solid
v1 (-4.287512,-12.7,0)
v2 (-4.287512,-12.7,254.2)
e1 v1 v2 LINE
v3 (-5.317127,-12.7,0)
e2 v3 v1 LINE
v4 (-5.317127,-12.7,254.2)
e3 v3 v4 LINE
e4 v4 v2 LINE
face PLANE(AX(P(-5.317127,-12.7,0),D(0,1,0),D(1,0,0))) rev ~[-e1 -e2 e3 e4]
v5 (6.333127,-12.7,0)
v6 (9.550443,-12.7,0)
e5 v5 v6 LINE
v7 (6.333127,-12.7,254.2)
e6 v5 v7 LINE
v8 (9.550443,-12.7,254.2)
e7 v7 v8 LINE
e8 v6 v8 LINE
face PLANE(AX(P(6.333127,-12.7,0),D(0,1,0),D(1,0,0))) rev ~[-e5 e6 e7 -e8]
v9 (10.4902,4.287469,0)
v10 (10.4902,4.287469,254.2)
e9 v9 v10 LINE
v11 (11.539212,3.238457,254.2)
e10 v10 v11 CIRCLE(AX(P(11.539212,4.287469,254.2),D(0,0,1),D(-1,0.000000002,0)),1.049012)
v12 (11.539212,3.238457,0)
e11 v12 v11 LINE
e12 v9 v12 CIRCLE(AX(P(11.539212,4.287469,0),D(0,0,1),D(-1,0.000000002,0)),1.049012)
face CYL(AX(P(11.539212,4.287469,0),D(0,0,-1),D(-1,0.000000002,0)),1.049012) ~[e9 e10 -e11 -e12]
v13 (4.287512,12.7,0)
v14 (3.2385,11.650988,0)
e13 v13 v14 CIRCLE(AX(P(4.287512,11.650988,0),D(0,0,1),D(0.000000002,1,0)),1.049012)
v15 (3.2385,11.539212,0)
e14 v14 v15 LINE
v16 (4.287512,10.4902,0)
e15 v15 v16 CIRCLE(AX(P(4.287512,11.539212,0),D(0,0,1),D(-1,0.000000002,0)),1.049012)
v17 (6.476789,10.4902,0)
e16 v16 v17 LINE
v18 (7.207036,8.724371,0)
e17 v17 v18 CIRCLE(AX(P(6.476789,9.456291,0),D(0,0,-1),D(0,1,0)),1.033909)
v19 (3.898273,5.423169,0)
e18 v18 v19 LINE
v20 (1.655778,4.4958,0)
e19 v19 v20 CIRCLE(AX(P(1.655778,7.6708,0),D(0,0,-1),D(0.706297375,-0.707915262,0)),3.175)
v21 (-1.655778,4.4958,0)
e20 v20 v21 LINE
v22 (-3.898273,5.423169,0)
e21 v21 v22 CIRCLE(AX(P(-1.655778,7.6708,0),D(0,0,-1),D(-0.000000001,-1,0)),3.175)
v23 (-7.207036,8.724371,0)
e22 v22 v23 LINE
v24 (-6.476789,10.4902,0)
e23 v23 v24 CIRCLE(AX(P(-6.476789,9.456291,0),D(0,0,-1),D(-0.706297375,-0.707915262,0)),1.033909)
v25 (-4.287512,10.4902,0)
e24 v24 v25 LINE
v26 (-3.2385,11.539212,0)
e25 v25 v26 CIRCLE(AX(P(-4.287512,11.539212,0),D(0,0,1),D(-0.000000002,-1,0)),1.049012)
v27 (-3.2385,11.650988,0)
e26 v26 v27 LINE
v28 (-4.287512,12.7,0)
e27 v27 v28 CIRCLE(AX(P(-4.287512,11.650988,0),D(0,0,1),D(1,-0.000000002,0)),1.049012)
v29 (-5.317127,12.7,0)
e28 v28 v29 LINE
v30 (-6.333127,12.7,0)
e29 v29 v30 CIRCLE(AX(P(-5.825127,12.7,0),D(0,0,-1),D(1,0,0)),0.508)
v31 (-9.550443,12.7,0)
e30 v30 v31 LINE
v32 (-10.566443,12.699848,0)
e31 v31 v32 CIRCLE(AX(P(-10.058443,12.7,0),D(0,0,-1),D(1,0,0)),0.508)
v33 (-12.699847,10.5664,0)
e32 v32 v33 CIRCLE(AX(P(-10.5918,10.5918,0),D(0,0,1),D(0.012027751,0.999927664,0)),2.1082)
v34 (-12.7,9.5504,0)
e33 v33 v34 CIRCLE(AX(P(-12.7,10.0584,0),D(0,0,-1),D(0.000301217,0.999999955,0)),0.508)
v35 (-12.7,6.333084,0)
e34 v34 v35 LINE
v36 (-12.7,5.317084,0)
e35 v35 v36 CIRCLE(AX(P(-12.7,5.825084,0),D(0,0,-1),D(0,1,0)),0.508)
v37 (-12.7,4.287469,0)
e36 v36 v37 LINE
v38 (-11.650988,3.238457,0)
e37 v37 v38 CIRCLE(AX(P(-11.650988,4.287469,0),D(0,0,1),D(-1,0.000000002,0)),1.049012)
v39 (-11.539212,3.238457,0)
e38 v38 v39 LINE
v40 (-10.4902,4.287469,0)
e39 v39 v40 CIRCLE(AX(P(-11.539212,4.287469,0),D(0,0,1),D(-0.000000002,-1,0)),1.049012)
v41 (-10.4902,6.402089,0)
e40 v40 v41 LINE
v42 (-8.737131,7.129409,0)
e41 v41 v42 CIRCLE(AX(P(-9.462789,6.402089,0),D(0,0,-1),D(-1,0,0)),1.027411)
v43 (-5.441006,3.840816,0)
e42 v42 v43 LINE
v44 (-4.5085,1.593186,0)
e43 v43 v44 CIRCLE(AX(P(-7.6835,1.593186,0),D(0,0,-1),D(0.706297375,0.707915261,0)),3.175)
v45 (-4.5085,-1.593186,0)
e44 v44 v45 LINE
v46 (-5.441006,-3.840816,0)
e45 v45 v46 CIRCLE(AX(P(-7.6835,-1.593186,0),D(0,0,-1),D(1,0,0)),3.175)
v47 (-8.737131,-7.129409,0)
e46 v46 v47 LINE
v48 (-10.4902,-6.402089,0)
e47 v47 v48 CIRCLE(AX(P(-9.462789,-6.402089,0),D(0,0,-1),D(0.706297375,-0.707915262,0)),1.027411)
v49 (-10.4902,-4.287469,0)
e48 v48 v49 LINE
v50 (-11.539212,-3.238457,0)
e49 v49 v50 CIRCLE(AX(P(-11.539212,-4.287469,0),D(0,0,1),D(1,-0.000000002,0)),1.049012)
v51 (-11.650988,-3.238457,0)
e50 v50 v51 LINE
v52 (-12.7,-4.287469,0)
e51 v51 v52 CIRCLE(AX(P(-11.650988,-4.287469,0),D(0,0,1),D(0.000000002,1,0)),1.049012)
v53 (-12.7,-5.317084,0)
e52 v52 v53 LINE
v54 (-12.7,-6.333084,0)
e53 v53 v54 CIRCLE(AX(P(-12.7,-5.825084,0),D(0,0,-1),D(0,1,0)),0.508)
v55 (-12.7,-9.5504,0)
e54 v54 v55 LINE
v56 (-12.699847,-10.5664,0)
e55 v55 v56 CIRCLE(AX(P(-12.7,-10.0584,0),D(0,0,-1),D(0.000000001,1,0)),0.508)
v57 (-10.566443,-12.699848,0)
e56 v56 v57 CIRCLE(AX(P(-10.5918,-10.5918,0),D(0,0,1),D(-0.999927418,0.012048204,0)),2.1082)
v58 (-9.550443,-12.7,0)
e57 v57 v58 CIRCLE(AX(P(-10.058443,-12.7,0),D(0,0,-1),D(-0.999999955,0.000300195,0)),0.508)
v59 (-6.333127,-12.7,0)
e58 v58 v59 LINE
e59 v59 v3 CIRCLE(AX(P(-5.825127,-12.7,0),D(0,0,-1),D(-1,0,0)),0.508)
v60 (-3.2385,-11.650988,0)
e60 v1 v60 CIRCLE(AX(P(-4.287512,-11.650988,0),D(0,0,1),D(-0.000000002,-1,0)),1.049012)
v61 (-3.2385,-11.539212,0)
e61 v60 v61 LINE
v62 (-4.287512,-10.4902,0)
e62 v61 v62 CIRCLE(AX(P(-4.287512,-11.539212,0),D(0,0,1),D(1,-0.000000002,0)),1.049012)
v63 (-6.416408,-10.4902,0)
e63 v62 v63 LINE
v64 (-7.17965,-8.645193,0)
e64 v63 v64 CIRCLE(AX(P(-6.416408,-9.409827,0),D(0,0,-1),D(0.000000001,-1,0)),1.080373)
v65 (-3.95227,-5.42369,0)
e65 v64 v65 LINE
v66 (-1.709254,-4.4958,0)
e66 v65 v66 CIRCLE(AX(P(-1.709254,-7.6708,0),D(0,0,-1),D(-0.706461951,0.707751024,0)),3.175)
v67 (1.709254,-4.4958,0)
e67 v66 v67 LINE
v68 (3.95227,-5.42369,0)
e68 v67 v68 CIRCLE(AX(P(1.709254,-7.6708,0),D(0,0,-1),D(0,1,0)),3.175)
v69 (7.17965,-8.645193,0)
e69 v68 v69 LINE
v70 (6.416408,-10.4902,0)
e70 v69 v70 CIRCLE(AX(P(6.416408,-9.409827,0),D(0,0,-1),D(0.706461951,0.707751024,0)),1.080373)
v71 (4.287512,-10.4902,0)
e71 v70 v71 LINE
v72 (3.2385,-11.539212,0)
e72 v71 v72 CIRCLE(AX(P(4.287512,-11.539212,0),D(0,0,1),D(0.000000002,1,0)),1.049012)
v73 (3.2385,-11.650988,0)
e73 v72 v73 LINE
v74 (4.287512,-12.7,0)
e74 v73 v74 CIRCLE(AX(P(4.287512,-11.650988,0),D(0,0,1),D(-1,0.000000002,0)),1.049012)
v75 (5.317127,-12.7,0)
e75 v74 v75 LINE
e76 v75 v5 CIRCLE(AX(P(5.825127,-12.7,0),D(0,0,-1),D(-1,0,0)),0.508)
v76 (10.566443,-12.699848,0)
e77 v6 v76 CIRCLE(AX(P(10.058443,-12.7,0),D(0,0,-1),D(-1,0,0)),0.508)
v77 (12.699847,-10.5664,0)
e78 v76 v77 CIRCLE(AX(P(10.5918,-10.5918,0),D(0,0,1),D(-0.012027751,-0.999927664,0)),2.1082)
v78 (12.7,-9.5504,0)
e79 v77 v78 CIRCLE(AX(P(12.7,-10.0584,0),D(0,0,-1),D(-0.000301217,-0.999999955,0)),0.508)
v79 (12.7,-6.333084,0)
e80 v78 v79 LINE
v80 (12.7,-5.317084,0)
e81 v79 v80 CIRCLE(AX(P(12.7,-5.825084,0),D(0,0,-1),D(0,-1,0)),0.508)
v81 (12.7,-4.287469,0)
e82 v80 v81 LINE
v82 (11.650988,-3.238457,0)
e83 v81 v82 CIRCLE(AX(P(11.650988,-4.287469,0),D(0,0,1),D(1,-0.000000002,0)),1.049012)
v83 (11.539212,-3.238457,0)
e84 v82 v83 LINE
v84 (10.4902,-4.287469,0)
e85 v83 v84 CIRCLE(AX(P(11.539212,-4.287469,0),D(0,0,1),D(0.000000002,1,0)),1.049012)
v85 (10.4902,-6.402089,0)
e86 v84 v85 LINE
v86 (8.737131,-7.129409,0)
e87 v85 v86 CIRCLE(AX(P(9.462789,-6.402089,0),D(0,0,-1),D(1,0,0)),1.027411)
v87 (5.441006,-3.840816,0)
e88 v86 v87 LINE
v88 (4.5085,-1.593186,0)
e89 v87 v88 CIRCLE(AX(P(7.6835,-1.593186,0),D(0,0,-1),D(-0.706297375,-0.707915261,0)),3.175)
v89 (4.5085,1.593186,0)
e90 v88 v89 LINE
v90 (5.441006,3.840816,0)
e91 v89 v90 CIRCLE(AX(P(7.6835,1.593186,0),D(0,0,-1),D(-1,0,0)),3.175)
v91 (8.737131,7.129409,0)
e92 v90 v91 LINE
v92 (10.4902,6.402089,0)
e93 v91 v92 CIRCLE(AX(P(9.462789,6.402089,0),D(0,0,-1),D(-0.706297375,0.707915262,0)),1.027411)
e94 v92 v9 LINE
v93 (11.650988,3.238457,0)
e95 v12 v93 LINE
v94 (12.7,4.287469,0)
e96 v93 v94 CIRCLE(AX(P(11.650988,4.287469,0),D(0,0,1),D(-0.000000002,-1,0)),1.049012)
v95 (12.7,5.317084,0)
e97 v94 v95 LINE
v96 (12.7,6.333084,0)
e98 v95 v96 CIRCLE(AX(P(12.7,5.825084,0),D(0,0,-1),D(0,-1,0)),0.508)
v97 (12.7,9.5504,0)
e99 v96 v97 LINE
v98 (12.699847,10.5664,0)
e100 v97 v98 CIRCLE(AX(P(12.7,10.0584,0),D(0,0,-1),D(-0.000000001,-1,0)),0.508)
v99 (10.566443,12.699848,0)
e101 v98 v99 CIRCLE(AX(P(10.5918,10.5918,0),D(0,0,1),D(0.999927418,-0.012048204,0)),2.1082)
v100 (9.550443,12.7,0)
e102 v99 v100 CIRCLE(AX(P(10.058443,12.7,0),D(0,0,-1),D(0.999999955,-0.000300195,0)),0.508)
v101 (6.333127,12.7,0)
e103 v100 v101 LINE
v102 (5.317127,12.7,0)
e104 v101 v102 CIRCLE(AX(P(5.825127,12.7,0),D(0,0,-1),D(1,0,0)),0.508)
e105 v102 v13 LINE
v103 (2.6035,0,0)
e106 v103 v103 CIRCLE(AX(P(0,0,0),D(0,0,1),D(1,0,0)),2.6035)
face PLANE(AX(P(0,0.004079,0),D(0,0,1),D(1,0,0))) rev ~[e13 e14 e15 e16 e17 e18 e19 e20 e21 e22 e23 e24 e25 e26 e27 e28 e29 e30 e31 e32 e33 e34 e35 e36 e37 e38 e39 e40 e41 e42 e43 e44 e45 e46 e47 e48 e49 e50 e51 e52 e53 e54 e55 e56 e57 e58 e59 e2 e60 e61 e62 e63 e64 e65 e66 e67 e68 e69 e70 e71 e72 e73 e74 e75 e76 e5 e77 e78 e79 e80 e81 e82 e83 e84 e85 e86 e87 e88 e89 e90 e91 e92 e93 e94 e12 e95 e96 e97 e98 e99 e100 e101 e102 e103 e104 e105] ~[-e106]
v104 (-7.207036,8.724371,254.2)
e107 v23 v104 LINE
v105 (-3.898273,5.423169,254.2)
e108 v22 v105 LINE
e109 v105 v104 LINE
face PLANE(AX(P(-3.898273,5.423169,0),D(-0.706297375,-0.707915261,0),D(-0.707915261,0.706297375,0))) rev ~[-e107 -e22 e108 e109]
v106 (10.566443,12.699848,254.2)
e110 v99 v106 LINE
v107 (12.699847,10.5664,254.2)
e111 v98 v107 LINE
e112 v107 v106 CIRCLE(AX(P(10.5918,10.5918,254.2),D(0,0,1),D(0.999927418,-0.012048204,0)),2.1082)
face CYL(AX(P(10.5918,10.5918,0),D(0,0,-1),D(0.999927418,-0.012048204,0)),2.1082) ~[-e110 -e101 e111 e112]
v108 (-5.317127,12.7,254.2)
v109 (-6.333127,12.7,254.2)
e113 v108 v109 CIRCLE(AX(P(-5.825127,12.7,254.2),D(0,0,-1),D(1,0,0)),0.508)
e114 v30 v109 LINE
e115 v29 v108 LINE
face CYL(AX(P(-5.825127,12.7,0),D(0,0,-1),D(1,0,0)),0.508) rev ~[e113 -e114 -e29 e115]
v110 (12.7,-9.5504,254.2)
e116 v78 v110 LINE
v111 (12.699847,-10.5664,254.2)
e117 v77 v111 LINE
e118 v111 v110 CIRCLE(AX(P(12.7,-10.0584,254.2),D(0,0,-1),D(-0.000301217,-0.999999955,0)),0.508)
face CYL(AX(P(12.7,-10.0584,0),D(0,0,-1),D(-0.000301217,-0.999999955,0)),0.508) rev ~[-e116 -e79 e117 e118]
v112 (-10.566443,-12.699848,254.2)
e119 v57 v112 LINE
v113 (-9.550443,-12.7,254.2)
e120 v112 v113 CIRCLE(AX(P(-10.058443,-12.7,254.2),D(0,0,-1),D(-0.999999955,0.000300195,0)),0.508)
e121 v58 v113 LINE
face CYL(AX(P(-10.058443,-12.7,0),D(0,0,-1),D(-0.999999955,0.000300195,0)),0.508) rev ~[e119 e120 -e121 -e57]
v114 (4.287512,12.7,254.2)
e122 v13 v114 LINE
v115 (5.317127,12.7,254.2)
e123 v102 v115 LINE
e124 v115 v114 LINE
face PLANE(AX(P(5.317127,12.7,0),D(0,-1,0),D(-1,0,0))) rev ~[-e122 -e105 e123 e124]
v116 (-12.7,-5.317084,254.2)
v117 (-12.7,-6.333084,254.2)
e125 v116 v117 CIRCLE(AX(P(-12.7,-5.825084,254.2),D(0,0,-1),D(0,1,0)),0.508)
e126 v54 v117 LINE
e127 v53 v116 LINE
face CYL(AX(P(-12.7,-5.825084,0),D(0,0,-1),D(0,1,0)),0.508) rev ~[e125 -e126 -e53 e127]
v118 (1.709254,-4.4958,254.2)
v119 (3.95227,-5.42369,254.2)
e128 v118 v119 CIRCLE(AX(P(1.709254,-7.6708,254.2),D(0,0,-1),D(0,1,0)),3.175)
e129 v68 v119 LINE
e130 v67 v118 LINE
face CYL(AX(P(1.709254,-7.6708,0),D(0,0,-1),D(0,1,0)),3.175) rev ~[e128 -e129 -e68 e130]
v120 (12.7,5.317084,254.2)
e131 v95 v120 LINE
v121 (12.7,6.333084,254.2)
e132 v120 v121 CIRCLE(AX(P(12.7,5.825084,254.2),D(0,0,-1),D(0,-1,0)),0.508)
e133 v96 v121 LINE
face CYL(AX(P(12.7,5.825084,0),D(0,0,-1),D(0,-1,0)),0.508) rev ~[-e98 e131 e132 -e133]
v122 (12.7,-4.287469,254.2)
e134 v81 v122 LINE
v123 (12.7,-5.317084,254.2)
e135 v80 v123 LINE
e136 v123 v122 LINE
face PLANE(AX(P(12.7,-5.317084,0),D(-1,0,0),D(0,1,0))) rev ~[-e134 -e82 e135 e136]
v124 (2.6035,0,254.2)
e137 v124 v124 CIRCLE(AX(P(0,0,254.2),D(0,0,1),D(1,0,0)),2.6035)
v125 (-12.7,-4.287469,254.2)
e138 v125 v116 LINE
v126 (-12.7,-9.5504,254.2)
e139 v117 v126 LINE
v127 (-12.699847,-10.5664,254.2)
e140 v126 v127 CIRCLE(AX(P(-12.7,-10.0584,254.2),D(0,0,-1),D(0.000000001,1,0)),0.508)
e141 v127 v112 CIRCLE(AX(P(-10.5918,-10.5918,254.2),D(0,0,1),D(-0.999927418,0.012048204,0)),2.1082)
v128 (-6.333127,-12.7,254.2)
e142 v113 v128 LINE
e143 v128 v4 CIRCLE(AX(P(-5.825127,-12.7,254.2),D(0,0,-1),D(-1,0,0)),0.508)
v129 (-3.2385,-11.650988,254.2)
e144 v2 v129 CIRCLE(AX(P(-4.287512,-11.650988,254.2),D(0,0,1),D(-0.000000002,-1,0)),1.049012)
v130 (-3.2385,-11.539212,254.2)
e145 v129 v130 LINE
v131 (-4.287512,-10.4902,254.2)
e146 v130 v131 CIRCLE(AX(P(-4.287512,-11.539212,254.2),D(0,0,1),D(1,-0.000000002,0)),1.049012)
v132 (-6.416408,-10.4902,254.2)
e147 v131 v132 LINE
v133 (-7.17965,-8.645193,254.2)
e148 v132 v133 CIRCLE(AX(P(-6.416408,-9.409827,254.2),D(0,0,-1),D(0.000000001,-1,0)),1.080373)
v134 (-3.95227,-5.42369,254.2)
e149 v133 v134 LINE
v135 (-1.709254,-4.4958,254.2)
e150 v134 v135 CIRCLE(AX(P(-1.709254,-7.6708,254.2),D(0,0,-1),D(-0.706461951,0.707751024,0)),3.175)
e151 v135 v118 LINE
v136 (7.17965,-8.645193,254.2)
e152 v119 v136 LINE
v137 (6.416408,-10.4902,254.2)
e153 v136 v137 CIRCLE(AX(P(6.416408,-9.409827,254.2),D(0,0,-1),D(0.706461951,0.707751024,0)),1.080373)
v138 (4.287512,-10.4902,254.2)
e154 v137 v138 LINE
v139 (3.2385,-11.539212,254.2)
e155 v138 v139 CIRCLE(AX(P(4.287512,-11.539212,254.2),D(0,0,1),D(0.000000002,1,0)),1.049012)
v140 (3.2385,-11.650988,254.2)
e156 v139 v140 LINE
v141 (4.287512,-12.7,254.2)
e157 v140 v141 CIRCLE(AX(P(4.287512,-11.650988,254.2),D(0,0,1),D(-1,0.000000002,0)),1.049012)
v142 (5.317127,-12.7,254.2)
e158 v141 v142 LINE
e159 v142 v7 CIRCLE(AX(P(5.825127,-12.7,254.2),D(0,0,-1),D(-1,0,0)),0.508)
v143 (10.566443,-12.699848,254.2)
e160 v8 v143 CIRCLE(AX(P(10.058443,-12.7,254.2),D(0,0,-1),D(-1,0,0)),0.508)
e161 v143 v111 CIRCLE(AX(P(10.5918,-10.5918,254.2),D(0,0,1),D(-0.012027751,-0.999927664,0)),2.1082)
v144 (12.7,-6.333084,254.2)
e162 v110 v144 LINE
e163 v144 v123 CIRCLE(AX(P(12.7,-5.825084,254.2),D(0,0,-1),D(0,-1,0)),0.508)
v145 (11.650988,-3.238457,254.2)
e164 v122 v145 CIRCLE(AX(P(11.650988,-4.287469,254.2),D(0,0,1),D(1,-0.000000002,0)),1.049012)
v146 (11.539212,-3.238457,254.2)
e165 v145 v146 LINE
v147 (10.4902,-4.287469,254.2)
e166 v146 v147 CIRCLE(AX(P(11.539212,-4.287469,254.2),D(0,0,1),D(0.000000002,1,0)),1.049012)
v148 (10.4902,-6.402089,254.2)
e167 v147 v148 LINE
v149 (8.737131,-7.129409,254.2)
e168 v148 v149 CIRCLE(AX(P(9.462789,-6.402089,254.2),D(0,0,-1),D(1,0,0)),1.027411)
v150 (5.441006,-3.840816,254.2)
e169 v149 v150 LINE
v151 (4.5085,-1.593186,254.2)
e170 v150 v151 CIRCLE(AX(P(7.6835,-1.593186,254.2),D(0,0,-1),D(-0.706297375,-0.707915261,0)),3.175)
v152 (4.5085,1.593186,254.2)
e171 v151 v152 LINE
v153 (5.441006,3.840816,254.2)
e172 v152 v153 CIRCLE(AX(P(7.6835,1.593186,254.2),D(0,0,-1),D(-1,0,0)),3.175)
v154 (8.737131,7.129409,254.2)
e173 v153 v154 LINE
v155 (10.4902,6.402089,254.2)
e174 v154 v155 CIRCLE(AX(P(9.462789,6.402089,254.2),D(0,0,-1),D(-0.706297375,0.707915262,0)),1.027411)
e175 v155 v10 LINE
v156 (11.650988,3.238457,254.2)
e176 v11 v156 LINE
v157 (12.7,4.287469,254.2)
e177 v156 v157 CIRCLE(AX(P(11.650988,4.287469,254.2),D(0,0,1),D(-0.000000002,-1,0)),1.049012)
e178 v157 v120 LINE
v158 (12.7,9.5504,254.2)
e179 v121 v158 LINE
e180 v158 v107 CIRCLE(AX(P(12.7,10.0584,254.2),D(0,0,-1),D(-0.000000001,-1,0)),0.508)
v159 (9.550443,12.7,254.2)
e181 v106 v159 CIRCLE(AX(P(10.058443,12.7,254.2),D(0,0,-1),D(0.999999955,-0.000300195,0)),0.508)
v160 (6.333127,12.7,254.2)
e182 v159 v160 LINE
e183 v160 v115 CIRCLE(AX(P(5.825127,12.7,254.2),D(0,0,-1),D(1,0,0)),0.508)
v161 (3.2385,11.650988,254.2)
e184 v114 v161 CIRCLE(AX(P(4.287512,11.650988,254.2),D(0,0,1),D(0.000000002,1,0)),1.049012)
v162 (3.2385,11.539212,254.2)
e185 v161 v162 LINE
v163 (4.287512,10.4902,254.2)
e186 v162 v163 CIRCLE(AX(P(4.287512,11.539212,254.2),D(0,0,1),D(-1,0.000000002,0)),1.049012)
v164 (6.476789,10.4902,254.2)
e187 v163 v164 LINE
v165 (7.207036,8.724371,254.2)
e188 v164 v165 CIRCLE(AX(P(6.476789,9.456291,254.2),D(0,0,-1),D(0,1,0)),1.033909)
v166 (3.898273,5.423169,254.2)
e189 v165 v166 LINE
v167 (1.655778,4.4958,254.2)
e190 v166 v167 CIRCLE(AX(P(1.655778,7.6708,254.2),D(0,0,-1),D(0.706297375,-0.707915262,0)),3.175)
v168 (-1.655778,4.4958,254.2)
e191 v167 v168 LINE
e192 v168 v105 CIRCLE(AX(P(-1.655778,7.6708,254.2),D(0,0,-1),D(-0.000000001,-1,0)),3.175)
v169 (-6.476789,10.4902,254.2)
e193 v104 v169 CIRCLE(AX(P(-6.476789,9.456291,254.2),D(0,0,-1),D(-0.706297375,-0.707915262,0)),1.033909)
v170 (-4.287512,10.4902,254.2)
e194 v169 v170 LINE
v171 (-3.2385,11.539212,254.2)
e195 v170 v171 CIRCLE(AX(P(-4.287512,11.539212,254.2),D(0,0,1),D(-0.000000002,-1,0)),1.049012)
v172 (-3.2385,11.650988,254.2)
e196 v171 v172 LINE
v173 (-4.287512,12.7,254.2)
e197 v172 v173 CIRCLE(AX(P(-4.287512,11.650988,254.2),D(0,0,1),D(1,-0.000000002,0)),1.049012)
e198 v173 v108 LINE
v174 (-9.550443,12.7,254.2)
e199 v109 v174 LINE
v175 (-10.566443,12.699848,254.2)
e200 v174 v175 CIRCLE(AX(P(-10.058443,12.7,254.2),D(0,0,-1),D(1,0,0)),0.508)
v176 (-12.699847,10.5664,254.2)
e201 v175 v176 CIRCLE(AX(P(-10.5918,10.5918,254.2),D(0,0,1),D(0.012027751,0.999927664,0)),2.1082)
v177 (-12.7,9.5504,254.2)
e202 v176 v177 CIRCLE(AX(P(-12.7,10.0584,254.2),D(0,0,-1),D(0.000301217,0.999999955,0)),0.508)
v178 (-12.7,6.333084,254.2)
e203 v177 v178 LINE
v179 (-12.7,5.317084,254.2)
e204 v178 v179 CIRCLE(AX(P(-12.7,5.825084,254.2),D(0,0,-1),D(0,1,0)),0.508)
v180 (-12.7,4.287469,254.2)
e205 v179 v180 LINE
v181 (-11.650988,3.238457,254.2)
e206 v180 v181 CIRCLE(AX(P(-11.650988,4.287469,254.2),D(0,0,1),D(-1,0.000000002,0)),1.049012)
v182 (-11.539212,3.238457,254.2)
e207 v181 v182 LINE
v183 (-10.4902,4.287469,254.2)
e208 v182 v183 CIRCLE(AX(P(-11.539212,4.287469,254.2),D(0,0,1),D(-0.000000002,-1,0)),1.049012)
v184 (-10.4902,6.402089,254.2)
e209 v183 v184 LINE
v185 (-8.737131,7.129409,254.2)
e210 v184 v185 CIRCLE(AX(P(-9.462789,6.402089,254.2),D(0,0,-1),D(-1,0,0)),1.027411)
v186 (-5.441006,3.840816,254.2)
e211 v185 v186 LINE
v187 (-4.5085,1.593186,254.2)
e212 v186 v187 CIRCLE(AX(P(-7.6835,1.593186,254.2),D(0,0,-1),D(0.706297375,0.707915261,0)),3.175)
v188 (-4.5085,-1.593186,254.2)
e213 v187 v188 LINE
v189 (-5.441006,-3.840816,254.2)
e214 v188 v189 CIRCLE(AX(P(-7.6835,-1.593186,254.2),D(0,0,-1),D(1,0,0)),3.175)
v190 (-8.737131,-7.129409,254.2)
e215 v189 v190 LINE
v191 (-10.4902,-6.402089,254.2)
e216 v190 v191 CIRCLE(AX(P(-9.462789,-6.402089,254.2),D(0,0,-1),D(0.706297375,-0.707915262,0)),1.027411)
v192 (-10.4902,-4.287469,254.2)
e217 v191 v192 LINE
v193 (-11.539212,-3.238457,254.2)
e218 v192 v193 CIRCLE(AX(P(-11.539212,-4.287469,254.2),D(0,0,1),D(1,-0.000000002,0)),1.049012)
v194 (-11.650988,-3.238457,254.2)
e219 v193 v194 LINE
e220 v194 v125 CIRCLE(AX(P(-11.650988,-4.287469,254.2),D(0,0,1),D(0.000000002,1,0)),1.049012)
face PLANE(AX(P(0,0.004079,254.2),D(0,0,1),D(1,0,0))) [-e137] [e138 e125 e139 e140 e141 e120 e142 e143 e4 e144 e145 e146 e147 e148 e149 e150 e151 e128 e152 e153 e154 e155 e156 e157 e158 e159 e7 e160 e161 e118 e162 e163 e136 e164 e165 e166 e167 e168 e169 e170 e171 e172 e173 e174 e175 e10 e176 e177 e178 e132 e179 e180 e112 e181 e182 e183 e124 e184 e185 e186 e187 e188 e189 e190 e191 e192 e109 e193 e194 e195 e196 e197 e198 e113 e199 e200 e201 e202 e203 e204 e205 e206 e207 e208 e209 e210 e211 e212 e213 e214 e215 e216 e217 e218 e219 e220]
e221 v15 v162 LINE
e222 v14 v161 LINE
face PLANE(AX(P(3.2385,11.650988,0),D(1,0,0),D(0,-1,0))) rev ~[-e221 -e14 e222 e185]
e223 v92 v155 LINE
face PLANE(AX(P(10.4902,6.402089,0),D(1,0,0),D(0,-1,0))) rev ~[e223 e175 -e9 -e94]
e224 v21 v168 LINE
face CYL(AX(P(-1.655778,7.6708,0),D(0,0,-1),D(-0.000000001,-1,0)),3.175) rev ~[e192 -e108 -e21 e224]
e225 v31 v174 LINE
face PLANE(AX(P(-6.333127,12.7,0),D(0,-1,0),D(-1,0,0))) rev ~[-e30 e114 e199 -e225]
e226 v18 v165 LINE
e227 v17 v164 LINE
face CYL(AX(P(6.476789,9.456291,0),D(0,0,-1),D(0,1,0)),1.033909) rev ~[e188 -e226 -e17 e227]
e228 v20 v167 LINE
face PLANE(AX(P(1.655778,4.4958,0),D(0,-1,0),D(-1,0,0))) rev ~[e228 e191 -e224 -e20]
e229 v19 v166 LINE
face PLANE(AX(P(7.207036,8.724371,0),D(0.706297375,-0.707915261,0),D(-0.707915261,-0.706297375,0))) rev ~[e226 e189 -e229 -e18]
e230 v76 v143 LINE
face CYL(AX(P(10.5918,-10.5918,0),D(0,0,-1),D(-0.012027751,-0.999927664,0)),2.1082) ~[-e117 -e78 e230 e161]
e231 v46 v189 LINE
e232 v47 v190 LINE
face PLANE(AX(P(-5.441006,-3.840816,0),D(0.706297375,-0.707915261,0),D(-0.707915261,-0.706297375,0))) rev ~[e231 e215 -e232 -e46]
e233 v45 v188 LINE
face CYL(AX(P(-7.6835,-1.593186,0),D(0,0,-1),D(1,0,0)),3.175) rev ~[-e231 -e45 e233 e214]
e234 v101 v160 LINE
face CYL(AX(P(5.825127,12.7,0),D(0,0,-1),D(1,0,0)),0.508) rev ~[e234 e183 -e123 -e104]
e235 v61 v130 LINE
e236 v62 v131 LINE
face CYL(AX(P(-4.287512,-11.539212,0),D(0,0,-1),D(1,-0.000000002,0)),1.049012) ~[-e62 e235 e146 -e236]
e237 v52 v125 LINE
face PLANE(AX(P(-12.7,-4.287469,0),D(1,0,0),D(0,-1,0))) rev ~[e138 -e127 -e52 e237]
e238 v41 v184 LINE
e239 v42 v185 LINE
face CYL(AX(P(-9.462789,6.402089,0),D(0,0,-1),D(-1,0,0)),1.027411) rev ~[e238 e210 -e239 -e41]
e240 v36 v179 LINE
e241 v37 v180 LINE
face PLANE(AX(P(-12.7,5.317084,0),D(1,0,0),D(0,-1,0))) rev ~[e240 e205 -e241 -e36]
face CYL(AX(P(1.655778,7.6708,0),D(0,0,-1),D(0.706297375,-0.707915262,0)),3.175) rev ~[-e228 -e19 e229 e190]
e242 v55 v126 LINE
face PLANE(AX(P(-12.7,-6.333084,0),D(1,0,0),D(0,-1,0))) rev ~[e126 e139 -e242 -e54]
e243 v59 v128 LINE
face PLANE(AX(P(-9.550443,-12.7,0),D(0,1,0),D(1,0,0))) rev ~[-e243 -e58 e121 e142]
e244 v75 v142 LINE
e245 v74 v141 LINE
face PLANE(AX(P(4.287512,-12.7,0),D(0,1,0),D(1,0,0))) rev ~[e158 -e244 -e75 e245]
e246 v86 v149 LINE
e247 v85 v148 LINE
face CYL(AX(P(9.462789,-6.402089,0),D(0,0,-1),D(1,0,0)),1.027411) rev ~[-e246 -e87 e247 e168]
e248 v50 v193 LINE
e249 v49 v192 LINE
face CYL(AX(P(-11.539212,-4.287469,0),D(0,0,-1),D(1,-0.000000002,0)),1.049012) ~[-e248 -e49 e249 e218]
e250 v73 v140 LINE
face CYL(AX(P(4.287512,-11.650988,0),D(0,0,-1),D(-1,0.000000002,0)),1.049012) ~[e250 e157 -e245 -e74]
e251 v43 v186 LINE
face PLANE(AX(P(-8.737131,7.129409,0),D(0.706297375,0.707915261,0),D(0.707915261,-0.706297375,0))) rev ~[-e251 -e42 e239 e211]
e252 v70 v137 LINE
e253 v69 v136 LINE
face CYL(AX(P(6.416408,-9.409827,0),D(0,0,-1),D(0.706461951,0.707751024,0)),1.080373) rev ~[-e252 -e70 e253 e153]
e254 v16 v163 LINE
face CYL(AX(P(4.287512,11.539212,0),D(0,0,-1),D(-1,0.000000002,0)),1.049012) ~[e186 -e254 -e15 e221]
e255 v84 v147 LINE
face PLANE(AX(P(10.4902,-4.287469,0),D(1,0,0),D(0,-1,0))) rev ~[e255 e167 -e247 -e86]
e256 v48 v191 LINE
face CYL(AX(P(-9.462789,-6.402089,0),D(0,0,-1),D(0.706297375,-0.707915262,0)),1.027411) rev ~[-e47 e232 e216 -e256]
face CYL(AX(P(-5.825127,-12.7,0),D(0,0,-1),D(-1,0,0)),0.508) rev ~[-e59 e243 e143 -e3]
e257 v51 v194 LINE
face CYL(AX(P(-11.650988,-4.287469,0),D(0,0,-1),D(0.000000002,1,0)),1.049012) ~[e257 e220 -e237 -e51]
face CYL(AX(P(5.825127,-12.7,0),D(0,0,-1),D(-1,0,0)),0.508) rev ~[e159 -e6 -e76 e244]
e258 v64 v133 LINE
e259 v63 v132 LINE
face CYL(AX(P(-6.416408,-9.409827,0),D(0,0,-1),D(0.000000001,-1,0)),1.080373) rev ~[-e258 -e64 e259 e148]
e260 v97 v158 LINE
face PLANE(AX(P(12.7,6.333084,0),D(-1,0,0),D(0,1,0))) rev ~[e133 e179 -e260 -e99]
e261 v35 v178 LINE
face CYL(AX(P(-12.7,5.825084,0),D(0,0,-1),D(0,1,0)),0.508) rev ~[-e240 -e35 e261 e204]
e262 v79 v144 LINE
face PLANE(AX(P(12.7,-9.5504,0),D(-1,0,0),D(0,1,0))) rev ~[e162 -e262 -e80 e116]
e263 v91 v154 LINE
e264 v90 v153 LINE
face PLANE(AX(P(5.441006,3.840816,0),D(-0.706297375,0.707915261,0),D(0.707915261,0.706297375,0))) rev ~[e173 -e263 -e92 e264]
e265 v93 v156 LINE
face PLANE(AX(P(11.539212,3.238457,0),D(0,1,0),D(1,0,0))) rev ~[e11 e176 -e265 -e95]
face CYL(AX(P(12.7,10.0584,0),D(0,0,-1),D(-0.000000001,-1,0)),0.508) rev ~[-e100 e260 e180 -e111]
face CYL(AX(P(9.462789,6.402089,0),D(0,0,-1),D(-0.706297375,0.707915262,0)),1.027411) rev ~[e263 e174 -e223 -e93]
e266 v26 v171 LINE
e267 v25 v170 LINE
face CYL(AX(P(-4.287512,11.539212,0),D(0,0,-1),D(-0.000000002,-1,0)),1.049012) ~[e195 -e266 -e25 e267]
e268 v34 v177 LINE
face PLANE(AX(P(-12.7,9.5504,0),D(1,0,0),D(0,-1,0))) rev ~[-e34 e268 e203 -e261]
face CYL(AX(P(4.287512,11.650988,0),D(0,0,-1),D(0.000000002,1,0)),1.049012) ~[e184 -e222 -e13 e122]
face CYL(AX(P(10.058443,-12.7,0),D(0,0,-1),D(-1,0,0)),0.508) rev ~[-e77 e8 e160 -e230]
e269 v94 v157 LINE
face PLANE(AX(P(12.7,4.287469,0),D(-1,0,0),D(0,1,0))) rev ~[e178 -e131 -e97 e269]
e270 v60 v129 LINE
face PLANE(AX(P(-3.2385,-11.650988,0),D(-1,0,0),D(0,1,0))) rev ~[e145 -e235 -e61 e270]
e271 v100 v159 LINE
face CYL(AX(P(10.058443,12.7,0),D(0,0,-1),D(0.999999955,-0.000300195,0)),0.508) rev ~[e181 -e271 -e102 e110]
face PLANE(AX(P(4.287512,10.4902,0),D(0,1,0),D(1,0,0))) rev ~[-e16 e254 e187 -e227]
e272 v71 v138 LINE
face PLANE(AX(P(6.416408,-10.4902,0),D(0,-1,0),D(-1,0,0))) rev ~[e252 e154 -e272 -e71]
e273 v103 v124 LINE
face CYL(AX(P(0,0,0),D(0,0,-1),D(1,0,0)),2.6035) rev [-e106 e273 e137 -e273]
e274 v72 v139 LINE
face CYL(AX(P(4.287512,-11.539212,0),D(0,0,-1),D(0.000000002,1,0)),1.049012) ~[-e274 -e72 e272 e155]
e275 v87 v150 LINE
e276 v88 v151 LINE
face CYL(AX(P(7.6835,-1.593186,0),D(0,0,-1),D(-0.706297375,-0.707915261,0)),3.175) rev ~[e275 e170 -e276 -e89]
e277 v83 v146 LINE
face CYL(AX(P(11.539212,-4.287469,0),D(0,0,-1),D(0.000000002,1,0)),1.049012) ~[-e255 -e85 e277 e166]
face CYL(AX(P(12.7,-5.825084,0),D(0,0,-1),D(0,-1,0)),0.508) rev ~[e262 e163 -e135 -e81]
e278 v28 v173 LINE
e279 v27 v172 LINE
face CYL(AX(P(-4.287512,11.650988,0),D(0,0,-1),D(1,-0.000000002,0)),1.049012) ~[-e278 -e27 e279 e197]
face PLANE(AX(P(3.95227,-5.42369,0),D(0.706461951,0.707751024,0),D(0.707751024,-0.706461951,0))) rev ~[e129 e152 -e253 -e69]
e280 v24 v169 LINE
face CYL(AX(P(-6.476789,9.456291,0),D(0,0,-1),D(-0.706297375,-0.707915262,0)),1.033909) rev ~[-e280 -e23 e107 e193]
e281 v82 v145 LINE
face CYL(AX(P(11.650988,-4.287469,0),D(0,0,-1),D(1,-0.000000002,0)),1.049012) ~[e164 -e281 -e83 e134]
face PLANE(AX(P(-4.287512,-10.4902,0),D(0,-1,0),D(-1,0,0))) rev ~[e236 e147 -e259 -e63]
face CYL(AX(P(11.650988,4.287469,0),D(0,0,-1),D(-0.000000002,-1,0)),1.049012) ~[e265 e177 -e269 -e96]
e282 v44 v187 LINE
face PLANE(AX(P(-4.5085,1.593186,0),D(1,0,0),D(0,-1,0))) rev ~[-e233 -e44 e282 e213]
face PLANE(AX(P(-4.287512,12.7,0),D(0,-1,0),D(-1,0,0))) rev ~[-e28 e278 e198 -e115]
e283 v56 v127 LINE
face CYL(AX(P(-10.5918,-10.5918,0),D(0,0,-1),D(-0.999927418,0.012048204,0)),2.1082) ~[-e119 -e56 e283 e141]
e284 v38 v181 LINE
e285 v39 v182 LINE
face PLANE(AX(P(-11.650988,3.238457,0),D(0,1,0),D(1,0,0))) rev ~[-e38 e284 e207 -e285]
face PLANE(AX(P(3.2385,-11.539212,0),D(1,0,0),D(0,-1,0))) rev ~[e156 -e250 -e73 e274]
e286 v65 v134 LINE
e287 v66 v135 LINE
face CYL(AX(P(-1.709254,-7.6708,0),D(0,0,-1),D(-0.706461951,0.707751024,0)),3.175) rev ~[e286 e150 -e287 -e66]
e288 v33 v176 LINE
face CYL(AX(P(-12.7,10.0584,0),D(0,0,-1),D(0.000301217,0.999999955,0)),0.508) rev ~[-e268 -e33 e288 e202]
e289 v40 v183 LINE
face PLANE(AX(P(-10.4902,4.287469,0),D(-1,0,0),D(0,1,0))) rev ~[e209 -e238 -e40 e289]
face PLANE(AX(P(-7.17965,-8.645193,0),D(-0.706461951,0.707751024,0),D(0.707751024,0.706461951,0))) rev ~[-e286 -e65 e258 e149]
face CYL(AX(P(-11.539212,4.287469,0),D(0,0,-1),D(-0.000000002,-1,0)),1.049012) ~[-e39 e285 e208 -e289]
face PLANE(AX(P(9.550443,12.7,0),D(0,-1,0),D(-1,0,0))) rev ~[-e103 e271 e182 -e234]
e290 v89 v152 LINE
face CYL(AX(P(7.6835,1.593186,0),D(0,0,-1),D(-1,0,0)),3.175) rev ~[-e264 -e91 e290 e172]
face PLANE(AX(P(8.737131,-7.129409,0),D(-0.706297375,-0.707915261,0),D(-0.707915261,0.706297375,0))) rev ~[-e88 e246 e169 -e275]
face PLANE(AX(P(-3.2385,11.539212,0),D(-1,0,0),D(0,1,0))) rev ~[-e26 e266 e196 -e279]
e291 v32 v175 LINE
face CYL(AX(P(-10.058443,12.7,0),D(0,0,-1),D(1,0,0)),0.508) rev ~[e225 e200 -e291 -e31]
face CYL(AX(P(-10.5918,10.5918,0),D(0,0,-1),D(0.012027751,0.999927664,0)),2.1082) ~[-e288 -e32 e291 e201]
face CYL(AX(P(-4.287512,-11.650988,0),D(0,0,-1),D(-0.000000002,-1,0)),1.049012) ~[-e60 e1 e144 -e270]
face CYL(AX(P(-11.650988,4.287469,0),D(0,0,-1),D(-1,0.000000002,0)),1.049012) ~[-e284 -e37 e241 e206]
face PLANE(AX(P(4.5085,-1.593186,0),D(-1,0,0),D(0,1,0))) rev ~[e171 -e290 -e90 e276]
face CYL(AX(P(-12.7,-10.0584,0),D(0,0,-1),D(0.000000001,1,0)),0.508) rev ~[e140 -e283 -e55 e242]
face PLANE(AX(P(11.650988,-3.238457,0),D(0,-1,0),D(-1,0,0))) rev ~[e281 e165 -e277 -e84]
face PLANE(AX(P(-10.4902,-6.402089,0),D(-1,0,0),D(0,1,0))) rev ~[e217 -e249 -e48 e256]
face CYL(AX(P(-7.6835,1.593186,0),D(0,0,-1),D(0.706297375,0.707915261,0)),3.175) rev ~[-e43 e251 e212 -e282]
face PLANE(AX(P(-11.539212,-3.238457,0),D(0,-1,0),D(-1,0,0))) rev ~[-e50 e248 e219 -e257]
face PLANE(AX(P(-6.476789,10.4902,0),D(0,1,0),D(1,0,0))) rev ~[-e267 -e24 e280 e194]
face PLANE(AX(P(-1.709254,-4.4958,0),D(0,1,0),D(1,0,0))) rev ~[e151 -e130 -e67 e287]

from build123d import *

# Parameters (mm, degrees)
SKETCH1_R           = 2.6035
BOSS_EXTRUDE1_DEPTH = 254.2


with BuildPart() as part:
    # Sketch1 → Boss-Extrude1 (new body)
    with BuildSketch(Plane.XY):
        with BuildLine():
            Line((-7.179650497, -8.645192506), (-3.952270251, -5.423690499))
            ThreePointArc((-3.952270251, -5.423690499), (-2.922936451, -4.736929036), (-1.709253557, -4.4958))
            Line((-1.709253557, -4.4958), (1.709253557, -4.4958))
            ThreePointArc((1.709253557, -4.4958), (2.922936451, -4.736929036), (3.952270251, -5.423690499))
            Line((3.952270251, -5.423690499), (7.179650497, -8.645192506))
            ThreePointArc((7.179650497, -8.645192506), (7.41473083, -9.822813117), (6.416408329, -10.4902))
            Line((6.416408329, -10.4902), (4.287512407, -10.4902))
            ThreePointArc((4.287512407, -10.4902), (3.54574862, -10.79744862), (3.2385, -11.539212407))
            Line((3.2385, -11.539212407), (3.2385, -11.650987593))
            ThreePointArc((3.2385, -11.650987593), (3.54574862, -12.39275138), (4.287512407, -12.7))
            Line((4.287512407, -12.7), (5.317126718, -12.7))
            ThreePointArc((5.317126718, -12.7), (5.825126718, -12.192), (6.333126718, -12.7))
            Line((6.333126718, -12.7), (9.550443118, -12.7))
            ThreePointArc((9.550443118, -12.7), (10.058366869, -12.192000006), (10.566443095, -12.699847501))
            ThreePointArc((10.566443095, -12.699847501), (12.082537762, -12.08250727), (12.699846982, -10.566399977))
            ThreePointArc((12.699846982, -10.566399977), (12.192000006, -10.058323491), (12.7, -9.5504))
            Line((12.7, -9.5504), (12.7, -6.3330836))
            ThreePointArc((12.7, -6.3330836), (12.192, -5.8250836), (12.7, -5.3170836))
            Line((12.7, -5.3170836), (12.7, -4.287469289))
            ThreePointArc((12.7, -4.287469289), (12.39275138, -3.545705502), (11.650987593, -3.238456882))
            Line((11.650987593, -3.238456882), (11.539212407, -3.238456882))
            ThreePointArc((11.539212407, -3.238456882), (10.79744862, -3.545705502), (10.4902, -4.287469289))
            Line((10.4902, -4.287469289), (10.4902, -6.402089023))
            ThreePointArc((10.4902, -6.402089023), (9.856505071, -7.351067942), (8.737131347, -7.129408934))
            Line((8.737131347, -7.129408934), (5.441005833, -3.840816462))
            ThreePointArc((5.441005833, -3.840816462), (4.750877967, -2.809883091), (4.5085, -1.593185507))
            Line((4.5085, -1.593185507), (4.5085, 1.593185507))
            ThreePointArc((4.5085, 1.593185507), (4.750877967, 2.809883091), (5.441005833, 3.840816462))
            Line((5.441005833, 3.840816462), (8.737131347, 7.129408934))
            ThreePointArc((8.737131347, 7.129408934), (9.856505071, 7.351067942), (10.4902, 6.402089023))
            Line((10.4902, 6.402089023), (10.4902, 4.287469289))
            ThreePointArc((10.4902, 4.287469289), (10.79744862, 3.545705502), (11.539212407, 3.238456882))
            Line((11.539212407, 3.238456882), (11.650987593, 3.238456882))
            ThreePointArc((11.650987593, 3.238456882), (12.39275138, 3.545705502), (12.7, 4.287469289))
            Line((12.7, 4.287469289), (12.7, 5.3170836))
            ThreePointArc((12.7, 5.3170836), (12.192, 5.8250836), (12.7, 6.3330836))
            Line((12.7, 6.3330836), (12.7, 9.5504))
            ThreePointArc((12.7, 9.5504), (12.192000006, 10.058323491), (12.699846982, 10.566399977))
            ThreePointArc((12.699846982, 10.566399977), (12.082537762, 12.08250727), (10.566443095, 12.699847501))
            ThreePointArc((10.566443095, 12.699847501), (10.058366869, 12.192000006), (9.550443118, 12.7))
            Line((9.550443118, 12.7), (6.333126718, 12.7))
            ThreePointArc((6.333126718, 12.7), (5.825126718, 12.192), (5.317126718, 12.7))
            Line((5.317126718, 12.7), (4.287512407, 12.7))
            ThreePointArc((4.287512407, 12.7), (3.54574862, 12.39275138), (3.2385, 11.650987593))
            Line((3.2385, 11.650987593), (3.2385, 11.539212407))
            ThreePointArc((3.2385, 11.539212407), (3.54574862, 10.79744862), (4.287512407, 10.4902))
            Line((4.287512407, 10.4902), (6.476788598, 10.4902))
            ThreePointArc((6.476788598, 10.4902), (7.432222385, 9.85140422), (7.207036008, 8.724370562))
            Line((7.207036008, 8.724370562), (3.898272566, 5.423169045))
            ThreePointArc((3.898272566, 5.423169045), (2.869120213, 4.736787962), (1.655778399, 4.4958))
            Line((1.655778399, 4.4958), (-1.655778399, 4.4958))
            ThreePointArc((-1.655778399, 4.4958), (-2.869120213, 4.736787962), (-3.898272566, 5.423169045))
            Line((-3.898272566, 5.423169045), (-7.207036008, 8.724370562))
            ThreePointArc((-7.207036008, 8.724370562), (-7.432222385, 9.85140422), (-6.476788598, 10.4902))
            Line((-6.476788598, 10.4902), (-4.287512407, 10.4902))
            ThreePointArc((-4.287512407, 10.4902), (-3.54574862, 10.79744862), (-3.2385, 11.539212407))
            Line((-3.2385, 11.539212407), (-3.2385, 11.650987593))
            ThreePointArc((-3.2385, 11.650987593), (-3.54574862, 12.39275138), (-4.287512407, 12.7))
            Line((-4.287512407, 12.7), (-5.317126718, 12.7))
            ThreePointArc((-5.317126718, 12.7), (-5.825126718, 12.192), (-6.333126718, 12.7))
            Line((-6.333126718, 12.7), (-9.550443118, 12.7))
            ThreePointArc((-9.550443118, 12.7), (-10.058366869, 12.192000006), (-10.566443095, 12.699847501))
            ThreePointArc((-10.566443095, 12.699847501), (-12.082537762, 12.08250727), (-12.699846982, 10.566399977))
            ThreePointArc((-12.699846982, 10.566399977), (-12.192000006, 10.058323491), (-12.7, 9.5504))
            Line((-12.7, 9.5504), (-12.7, 6.3330836))
            ThreePointArc((-12.7, 6.3330836), (-12.192, 5.8250836), (-12.7, 5.3170836))
            Line((-12.7, 5.3170836), (-12.7, 4.287469289))
            ThreePointArc((-12.7, 4.287469289), (-12.39275138, 3.545705502), (-11.650987593, 3.238456882))
            Line((-11.650987593, 3.238456882), (-11.539212407, 3.238456882))
            ThreePointArc((-11.539212407, 3.238456882), (-10.79744862, 3.545705502), (-10.4902, 4.287469289))
            Line((-10.4902, 4.287469289), (-10.4902, 6.402089023))
            ThreePointArc((-10.4902, 6.402089023), (-9.856505071, 7.351067942), (-8.737131347, 7.129408934))
            Line((-8.737131347, 7.129408934), (-5.441005833, 3.840816462))
            ThreePointArc((-5.441005833, 3.840816462), (-4.750877967, 2.809883091), (-4.5085, 1.593185507))
            Line((-4.5085, 1.593185507), (-4.5085, -1.593185507))
            ThreePointArc((-4.5085, -1.593185507), (-4.750877967, -2.809883091), (-5.441005833, -3.840816462))
            Line((-5.441005833, -3.840816462), (-8.737131347, -7.129408934))
            ThreePointArc((-8.737131347, -7.129408934), (-9.856505071, -7.351067942), (-10.4902, -6.402089023))
            Line((-10.4902, -6.402089023), (-10.4902, -4.287469289))
            ThreePointArc((-10.4902, -4.287469289), (-10.79744862, -3.545705502), (-11.539212407, -3.238456882))
            Line((-11.539212407, -3.238456882), (-11.650987593, -3.238456882))
            ThreePointArc((-11.650987593, -3.238456882), (-12.39275138, -3.545705502), (-12.7, -4.287469289))
            Line((-12.7, -4.287469289), (-12.7, -5.3170836))
            ThreePointArc((-12.7, -5.3170836), (-12.192, -5.8250836), (-12.7, -6.3330836))
            Line((-12.7, -6.3330836), (-12.7, -9.5504))
            ThreePointArc((-12.7, -9.5504), (-12.192000006, -10.058323491), (-12.699846982, -10.566399977))
            ThreePointArc((-12.699846982, -10.566399977), (-12.082537762, -12.08250727), (-10.566443095, -12.699847501))
            ThreePointArc((-10.566443095, -12.699847501), (-10.058366869, -12.192000006), (-9.550443118, -12.7))
            Line((-9.550443118, -12.7), (-6.333126718, -12.7))
            ThreePointArc((-6.333126718, -12.7), (-5.825126718, -12.192), (-5.317126718, -12.7))
            Line((-5.317126718, -12.7), (-4.287512407, -12.7))
            ThreePointArc((-4.287512407, -12.7), (-3.54574862, -12.39275138), (-3.2385, -11.650987593))
            Line((-3.2385, -11.650987593), (-3.2385, -11.539212407))
            ThreePointArc((-3.2385, -11.539212407), (-3.54574862, -10.79744862), (-4.287512407, -10.4902))
            Line((-4.287512407, -10.4902), (-6.416408329, -10.4902))
            ThreePointArc((-6.416408329, -10.4902), (-7.41473083, -9.822813117), (-7.179650497, -8.645192506))
        make_face()
        Circle(SKETCH1_R, mode=Mode.SUBTRACT)
    extrude(amount=BOSS_EXTRUDE1_DEPTH)


solid = part.part
